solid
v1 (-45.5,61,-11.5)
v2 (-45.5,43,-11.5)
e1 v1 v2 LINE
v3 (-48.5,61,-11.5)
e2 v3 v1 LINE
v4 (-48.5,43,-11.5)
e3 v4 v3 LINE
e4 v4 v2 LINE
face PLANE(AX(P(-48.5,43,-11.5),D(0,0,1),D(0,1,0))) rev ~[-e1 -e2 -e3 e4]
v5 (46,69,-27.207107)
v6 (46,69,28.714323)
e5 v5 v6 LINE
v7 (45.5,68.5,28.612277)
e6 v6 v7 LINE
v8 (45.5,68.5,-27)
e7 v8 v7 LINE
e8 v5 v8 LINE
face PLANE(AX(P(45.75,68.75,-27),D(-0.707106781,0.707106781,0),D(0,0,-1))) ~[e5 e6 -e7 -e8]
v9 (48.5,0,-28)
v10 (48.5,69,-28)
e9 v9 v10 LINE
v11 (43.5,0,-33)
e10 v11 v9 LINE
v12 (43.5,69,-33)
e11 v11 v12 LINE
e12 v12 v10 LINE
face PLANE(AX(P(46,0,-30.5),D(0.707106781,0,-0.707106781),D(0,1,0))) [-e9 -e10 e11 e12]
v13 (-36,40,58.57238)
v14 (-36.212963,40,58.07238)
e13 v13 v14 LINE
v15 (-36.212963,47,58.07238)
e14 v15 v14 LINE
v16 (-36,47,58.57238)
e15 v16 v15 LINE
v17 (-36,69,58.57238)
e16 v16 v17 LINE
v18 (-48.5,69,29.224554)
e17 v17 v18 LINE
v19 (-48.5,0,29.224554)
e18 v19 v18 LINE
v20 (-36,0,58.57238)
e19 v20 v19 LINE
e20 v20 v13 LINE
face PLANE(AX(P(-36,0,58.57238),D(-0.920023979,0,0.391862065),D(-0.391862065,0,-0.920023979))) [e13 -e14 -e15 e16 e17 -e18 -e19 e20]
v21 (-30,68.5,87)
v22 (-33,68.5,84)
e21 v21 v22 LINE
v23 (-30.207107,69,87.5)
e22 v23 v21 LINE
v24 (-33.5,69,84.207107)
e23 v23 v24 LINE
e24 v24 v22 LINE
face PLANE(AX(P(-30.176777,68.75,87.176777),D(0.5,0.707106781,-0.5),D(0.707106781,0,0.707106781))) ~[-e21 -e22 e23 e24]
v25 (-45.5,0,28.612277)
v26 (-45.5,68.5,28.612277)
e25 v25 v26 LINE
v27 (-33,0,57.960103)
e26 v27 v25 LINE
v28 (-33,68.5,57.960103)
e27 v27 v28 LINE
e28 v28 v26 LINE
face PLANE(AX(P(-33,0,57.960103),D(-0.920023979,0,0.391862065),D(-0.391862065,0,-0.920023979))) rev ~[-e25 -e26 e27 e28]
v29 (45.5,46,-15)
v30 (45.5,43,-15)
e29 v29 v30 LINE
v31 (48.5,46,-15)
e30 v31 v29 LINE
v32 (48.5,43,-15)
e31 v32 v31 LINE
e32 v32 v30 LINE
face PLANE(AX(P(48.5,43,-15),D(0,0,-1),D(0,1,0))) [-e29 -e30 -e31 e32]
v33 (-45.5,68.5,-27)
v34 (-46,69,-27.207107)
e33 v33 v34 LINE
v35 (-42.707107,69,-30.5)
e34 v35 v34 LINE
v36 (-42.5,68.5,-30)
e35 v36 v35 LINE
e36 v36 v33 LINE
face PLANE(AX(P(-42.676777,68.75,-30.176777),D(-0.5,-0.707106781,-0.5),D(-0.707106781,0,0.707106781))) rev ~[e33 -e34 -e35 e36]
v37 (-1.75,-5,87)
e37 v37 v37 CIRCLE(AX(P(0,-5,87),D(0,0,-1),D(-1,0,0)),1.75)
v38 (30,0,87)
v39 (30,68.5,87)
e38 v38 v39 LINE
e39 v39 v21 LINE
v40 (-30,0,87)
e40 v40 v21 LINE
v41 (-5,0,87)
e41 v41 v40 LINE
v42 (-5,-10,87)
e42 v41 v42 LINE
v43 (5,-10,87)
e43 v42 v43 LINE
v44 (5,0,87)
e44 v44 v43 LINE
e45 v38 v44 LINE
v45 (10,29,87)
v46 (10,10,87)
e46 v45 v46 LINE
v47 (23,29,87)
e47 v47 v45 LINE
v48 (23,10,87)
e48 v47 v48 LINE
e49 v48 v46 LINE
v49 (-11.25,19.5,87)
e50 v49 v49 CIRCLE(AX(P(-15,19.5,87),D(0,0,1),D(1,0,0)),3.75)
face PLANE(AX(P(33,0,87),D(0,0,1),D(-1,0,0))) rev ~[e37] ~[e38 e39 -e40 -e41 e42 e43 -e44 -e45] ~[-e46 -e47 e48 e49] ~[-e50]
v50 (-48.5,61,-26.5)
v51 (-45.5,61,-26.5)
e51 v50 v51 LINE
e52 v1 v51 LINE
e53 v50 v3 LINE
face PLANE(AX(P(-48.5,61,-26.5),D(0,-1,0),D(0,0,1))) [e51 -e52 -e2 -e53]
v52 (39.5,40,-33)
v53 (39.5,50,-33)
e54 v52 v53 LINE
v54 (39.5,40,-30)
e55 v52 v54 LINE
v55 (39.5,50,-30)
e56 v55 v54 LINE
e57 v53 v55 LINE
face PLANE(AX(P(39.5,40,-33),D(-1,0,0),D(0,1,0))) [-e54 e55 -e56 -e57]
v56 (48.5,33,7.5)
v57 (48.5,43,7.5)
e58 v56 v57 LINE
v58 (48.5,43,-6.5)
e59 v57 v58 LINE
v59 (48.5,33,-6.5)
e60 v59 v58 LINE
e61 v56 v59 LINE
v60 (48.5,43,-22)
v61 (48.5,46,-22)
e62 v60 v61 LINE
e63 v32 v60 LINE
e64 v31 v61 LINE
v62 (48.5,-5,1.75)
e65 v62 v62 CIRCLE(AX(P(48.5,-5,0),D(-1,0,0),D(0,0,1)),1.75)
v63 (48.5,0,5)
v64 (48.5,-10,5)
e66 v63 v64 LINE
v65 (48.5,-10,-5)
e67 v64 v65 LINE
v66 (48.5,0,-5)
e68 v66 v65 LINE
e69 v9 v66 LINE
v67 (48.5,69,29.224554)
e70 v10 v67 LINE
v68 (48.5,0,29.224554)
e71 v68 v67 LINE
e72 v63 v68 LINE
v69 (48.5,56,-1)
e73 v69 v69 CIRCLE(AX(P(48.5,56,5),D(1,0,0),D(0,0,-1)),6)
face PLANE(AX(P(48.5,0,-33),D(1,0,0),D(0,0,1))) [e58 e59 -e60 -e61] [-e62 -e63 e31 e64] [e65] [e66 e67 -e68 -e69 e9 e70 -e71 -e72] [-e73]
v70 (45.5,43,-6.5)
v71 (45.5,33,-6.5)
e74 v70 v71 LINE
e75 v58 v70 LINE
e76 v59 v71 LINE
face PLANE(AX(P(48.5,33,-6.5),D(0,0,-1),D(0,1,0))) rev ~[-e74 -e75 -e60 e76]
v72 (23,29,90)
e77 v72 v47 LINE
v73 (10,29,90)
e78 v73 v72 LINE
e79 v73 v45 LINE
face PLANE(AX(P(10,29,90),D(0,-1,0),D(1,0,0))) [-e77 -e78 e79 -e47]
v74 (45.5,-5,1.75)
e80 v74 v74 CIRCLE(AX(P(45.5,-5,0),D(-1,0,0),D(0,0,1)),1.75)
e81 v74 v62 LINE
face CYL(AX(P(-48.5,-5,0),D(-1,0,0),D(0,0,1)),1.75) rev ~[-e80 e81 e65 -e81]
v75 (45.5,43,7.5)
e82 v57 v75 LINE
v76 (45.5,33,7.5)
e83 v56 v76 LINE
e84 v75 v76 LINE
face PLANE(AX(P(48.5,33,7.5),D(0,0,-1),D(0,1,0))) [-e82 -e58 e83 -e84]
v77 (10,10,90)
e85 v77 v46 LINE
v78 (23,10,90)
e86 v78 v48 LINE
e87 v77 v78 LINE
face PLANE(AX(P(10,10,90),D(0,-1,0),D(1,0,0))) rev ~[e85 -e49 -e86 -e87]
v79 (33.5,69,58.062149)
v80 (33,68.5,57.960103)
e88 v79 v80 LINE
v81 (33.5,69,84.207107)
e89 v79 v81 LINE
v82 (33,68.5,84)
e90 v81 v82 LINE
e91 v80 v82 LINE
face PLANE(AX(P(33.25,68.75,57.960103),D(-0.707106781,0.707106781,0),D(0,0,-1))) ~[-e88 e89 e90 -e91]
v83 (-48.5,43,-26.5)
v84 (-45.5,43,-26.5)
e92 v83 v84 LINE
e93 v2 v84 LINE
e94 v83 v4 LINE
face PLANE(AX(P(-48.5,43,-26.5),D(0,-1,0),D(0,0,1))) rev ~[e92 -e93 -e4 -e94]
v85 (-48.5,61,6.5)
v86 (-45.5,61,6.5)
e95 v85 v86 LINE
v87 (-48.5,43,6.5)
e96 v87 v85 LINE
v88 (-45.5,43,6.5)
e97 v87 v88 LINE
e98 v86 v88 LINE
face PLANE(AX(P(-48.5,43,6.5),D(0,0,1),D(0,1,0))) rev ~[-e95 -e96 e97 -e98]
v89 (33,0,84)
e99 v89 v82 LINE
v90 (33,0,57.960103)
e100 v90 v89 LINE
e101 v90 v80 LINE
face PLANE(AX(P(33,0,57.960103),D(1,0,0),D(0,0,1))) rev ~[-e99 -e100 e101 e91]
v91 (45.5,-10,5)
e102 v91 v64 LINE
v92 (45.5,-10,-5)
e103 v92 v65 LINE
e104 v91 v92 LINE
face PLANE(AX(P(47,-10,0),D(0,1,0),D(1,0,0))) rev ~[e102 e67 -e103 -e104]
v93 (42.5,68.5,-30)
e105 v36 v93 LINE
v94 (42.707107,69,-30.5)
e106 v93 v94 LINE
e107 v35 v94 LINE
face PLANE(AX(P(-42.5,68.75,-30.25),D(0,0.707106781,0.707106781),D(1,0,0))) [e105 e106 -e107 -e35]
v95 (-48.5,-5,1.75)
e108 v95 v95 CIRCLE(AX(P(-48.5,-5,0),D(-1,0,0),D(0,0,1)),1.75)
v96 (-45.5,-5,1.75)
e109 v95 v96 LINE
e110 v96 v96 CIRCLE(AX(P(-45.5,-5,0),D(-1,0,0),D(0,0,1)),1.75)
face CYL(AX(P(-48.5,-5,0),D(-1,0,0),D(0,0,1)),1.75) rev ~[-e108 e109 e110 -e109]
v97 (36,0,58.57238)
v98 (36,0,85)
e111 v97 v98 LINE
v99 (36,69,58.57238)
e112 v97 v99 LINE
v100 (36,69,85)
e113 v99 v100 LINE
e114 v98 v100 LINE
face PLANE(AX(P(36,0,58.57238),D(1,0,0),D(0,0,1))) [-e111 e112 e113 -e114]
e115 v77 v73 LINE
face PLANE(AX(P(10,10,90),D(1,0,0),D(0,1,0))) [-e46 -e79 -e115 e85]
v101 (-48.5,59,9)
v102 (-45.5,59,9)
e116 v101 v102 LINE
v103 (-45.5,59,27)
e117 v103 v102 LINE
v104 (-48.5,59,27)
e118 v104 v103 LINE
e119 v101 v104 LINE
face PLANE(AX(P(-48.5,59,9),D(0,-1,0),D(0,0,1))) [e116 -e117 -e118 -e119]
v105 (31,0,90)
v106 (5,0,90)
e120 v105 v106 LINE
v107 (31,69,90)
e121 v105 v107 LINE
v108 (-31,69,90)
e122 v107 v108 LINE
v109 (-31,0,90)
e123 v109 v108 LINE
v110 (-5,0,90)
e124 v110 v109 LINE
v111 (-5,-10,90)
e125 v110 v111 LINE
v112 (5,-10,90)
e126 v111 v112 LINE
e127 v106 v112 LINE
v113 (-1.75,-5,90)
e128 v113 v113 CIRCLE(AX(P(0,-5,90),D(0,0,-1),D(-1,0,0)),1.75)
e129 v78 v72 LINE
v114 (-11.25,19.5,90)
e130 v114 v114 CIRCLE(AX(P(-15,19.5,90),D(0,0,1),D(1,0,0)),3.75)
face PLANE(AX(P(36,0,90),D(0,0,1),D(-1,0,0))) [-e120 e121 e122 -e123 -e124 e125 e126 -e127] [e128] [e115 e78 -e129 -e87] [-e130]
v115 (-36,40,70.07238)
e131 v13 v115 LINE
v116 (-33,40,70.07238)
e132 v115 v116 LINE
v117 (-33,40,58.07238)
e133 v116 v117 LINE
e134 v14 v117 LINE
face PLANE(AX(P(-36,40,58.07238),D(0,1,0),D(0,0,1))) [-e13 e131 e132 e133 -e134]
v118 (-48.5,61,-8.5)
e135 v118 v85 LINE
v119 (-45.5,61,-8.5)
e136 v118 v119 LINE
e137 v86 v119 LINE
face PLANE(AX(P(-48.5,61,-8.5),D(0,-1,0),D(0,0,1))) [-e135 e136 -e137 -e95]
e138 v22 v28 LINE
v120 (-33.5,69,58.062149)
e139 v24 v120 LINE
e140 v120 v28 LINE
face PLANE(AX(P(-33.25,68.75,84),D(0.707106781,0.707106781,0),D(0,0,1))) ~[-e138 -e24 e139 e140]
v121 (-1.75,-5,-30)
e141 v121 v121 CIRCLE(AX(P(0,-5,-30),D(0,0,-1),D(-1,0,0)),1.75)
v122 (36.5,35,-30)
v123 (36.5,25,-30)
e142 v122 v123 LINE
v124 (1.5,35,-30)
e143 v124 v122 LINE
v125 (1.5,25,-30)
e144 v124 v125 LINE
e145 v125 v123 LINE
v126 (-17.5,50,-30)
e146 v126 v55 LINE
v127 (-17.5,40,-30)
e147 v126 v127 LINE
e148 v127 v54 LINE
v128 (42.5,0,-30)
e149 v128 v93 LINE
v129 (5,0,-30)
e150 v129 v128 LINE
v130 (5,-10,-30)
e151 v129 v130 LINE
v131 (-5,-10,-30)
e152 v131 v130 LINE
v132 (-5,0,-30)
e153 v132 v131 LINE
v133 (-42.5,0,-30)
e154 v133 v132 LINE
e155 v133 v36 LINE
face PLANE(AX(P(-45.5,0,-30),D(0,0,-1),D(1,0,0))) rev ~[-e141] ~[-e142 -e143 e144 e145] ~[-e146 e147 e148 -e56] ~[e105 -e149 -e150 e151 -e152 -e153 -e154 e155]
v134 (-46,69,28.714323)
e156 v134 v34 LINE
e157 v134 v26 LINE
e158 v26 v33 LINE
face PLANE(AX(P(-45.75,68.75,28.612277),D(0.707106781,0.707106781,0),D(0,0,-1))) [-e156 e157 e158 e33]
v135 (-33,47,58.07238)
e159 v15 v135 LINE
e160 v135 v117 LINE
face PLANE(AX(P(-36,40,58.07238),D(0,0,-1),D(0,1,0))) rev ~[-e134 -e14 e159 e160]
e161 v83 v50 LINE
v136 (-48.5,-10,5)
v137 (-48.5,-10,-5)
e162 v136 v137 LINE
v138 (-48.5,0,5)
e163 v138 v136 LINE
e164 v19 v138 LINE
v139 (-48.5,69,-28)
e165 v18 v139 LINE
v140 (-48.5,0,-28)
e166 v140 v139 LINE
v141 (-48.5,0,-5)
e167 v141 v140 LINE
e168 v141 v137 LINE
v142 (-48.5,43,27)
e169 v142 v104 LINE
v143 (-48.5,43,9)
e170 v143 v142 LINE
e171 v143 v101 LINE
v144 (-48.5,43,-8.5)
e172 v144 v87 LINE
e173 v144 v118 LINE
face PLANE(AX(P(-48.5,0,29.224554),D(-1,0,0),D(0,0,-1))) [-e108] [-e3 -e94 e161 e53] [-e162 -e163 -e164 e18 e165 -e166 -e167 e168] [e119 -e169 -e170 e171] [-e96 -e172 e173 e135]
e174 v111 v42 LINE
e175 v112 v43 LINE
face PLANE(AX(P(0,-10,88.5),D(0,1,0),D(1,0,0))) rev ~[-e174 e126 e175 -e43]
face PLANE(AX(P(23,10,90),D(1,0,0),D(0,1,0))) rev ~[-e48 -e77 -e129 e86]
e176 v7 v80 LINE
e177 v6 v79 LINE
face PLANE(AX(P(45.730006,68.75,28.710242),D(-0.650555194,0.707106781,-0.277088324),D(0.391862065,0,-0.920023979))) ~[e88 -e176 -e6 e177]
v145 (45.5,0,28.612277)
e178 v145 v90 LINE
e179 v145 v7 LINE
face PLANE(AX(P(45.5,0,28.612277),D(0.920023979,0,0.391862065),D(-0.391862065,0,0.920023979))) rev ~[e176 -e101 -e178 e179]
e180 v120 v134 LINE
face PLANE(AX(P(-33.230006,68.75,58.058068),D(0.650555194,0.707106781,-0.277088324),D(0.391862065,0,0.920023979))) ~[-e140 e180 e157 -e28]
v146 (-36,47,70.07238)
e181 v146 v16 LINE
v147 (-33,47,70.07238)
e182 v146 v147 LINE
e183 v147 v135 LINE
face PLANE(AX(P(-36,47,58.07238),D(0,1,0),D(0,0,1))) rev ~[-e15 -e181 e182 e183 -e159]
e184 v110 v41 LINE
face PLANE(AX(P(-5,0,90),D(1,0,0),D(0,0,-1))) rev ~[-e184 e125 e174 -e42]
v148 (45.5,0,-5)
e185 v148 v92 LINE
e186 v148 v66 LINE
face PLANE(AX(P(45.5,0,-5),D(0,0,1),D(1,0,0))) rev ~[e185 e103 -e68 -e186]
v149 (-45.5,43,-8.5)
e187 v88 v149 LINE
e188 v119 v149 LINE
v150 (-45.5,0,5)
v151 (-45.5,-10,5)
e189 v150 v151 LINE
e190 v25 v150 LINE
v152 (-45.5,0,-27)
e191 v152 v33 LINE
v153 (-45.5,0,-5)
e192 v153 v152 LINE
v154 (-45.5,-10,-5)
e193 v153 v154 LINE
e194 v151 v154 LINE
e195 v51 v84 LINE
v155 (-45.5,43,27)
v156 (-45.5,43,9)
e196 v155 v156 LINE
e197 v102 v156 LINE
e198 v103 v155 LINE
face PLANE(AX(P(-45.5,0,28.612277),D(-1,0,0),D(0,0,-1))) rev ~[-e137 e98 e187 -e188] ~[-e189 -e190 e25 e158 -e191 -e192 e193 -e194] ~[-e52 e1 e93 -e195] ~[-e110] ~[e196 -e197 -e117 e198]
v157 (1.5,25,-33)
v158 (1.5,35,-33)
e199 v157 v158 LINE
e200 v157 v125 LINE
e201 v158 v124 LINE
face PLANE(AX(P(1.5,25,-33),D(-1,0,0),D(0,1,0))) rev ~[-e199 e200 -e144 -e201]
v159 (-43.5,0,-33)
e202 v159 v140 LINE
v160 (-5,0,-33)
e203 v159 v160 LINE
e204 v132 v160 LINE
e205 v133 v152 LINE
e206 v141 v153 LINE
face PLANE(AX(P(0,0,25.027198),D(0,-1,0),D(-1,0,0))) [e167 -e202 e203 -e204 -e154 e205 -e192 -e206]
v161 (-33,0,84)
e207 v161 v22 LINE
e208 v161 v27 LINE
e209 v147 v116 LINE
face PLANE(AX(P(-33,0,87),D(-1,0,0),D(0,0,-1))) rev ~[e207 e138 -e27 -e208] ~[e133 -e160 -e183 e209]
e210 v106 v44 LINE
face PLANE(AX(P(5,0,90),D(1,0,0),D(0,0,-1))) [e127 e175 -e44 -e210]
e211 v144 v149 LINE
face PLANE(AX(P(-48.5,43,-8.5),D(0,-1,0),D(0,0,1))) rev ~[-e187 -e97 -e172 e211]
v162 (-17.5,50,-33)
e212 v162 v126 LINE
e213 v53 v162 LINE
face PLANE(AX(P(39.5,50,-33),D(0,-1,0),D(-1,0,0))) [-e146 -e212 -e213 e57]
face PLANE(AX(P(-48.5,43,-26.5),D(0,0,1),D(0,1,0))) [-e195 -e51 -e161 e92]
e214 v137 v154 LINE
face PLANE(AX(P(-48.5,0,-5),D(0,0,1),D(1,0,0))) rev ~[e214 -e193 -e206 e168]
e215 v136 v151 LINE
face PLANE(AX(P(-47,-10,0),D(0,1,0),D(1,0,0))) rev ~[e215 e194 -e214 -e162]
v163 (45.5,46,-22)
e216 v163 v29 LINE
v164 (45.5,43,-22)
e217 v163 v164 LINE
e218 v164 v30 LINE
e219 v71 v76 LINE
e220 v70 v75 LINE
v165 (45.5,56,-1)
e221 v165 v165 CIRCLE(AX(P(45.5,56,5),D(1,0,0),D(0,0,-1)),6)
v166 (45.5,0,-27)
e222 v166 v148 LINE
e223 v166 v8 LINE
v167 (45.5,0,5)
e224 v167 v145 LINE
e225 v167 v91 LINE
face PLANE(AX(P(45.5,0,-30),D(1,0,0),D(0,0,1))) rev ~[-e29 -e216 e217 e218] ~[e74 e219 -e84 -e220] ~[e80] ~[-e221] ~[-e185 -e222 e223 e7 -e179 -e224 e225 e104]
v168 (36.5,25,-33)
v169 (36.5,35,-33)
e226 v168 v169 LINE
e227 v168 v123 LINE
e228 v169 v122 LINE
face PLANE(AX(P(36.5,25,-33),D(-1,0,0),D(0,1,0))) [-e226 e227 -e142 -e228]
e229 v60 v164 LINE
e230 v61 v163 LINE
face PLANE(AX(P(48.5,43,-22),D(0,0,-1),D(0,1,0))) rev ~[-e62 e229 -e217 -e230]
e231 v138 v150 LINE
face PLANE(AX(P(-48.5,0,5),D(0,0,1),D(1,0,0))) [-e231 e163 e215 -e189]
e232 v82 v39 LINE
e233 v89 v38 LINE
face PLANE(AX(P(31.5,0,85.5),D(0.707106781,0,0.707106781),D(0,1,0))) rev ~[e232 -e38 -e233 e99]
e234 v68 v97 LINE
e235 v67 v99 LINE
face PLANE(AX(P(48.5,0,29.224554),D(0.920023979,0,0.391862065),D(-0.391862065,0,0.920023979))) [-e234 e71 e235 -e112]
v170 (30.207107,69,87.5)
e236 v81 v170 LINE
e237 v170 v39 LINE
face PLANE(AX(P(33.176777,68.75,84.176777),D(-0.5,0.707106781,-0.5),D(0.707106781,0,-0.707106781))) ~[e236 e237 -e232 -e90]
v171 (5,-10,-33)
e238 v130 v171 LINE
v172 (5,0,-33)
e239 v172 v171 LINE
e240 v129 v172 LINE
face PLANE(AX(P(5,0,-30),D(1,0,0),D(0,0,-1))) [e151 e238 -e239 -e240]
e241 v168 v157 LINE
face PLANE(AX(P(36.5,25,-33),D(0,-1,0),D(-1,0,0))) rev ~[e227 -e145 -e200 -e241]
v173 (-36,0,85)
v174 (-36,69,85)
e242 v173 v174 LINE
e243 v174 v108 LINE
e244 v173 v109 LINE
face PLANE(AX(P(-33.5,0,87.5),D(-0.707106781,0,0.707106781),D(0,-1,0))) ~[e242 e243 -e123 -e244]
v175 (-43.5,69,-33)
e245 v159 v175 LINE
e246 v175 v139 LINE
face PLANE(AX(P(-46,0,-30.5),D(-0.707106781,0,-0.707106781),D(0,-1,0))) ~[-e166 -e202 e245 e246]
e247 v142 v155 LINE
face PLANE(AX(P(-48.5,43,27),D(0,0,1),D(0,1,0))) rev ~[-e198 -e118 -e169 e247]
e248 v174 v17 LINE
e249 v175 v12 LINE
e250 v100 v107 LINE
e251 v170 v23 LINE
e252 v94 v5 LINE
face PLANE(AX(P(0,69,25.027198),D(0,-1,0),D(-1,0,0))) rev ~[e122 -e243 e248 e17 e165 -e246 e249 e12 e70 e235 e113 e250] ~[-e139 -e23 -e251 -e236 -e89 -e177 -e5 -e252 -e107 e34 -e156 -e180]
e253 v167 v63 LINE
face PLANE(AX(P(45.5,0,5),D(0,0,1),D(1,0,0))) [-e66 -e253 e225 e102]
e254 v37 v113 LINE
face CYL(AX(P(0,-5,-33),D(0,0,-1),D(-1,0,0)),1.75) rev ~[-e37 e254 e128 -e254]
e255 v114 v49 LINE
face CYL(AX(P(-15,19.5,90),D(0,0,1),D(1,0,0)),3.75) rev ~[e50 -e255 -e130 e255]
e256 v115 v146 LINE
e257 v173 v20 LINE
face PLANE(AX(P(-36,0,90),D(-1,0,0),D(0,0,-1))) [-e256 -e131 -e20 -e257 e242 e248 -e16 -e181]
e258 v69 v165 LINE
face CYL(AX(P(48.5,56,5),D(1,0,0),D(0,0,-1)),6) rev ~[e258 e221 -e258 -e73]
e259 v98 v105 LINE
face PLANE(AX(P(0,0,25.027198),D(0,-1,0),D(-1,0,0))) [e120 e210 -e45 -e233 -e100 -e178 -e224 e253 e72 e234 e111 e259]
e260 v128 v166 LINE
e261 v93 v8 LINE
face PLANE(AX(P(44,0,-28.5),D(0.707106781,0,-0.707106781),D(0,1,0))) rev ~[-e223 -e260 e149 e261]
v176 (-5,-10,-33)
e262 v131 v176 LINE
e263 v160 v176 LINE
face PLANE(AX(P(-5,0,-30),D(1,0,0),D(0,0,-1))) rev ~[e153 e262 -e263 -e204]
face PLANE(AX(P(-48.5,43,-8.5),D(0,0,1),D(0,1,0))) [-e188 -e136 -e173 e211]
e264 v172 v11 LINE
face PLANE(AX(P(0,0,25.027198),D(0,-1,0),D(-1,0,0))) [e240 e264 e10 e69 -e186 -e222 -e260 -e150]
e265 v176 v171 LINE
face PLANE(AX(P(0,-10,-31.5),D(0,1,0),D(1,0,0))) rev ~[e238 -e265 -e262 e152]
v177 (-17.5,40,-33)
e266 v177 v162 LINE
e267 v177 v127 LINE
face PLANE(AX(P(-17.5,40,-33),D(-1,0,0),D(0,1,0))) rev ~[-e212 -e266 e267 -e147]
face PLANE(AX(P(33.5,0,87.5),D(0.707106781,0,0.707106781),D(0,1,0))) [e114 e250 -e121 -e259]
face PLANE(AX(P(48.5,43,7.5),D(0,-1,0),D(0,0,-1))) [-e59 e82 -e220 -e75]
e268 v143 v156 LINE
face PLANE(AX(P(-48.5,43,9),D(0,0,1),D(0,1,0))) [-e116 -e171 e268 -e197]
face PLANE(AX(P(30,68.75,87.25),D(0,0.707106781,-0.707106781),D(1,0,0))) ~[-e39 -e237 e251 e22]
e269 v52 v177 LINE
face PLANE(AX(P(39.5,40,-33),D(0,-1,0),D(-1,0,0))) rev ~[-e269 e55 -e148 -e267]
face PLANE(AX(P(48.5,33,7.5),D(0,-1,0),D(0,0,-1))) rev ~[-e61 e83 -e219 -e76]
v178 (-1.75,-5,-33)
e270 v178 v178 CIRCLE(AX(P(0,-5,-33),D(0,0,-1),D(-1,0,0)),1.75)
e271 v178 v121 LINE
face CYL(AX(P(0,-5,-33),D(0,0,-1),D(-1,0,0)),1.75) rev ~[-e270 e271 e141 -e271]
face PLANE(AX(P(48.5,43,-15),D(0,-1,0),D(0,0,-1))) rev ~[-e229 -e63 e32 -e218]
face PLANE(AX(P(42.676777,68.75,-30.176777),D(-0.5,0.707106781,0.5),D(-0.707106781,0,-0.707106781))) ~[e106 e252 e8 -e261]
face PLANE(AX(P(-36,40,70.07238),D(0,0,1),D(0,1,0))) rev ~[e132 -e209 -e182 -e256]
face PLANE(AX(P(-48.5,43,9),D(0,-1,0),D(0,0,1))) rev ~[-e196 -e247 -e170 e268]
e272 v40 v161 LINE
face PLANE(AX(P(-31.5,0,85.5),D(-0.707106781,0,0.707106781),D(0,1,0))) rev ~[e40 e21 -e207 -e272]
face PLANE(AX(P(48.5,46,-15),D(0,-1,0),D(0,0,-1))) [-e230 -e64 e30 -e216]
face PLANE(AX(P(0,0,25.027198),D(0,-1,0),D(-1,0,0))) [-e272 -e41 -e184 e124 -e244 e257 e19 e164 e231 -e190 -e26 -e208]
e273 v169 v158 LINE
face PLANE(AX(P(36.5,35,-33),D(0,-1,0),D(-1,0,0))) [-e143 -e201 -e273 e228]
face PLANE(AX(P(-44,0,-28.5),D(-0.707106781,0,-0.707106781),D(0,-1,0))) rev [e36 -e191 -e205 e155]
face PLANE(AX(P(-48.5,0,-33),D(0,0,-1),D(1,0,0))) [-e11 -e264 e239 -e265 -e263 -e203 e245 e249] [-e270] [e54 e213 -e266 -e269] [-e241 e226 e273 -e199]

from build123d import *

# Parameters (mm, degrees)
BOSS_EXTRUDE2_DEPTH            = 69
CHAMFER1_SIZE                  = 3
CHAMFER2_SIZE                  = 5
SKETCH5_W                      = 10
SKETCH5_H                      = 3
SKETCH5_W_2                    = 3
SKETCH5_H_2                    = 10
BOSS_EXTRUDE3_DEPTH            = 10
SKETCH6_R                      = 1.75
CUT_EXTRUDE1_DEPTH             = 150.231363996
SKETCH7_R                      = 1.75
CUT_EXTRUDE2_DEPTH             = 150.13835858
CUT_EXTRUDE3_REACH             = 151.138
SKETCH8_W                      = 57
SKETCH8_H                      = 10
SKETCH8_W_2                    = 35
CUT_EXTRUDE4_REACH             = 151.231
SKETCH10_W                     = 15
SKETCH10_H                     = 18
SKETCH10_W_2                   = 18
SKETCH10_H_2                   = 16
CUT_EXTRUDE5_REACH             = 143.426
SKETCH12_W                     = 12
SKETCH12_H                     = 7
CUT_EXTRUDE5_DIRECTION_2_DEPTH = 142.425775586
CUT_EXTRUDE6_REACH             = 151.231
SKETCH14_R                     = 6
CUT_EXTRUDE7_REACH             = 151.138
SKETCH15_W                     = 13
SKETCH15_H                     = 19
CUT_EXTRUDE8_REACH             = 151.231
SKETCH16_W                     = 14
SKETCH16_H                     = 10
CUT_EXTRUDE9_REACH             = 151.231
SKETCH18_W                     = 7
SKETCH18_H                     = 3
CHAMFER3_SIZE                  = 0.5
CUT_EXTRUDE10_REACH            = 151.138
SKETCH19_R                     = 3.75


with BuildPart() as part:
    # Sketch4 → Boss-Extrude2 (new body)
    with BuildSketch(Plane(origin=(0, 0, 0), x_dir=(1, 0, 0), z_dir=(0, 1, 0))):
        Polygon((-48.5, 33), (48.5, 33), (48.5, -29.22455366), (36, -58.572379747), (36, -90), (-36, -90), (-36, -58.572379747), (-48.5, -29.22455366), align=None)
        Polygon((-45.5, 30), (45.5, 30), (45.5, -28.61227683), (33, -57.960102917), (33, -87), (-33, -87), (-33, -57.960102917), (-45.5, -28.61227683), align=None, mode=Mode.SUBTRACT)
    extrude(amount=BOSS_EXTRUDE2_DEPTH)

    # Chamfer1
    chamfer1_edges = [part.edges().sort_by_distance(p)[0] for p in [
        (-45.5, 34.5, -30),
        (-33, 34.5, 87),
        (33, 34.5, 87),
        (45.5, 34.5, -30),
    ]]
    chamfer(chamfer1_edges, length=CHAMFER1_SIZE)

    # Chamfer2
    chamfer2_edges = [part.edges().sort_by_distance(p)[0] for p in [
        (-48.5, 34.5, -33),
        (48.5, 34.5, -33),
        (36, 34.5, 90),
        (-36, 34.5, 90),
    ]]
    chamfer(chamfer2_edges, length=CHAMFER2_SIZE)

    # Sketch5 → Boss-Extrude3 (add)
    with BuildSketch(Plane(origin=(0, 0, 0), x_dir=(1, 0, 0), z_dir=(0, 1, 0))):
        with Locations((0, 31.5)):
            Rectangle(SKETCH5_W, SKETCH5_H)
        with Locations((-47, 0)):
            Rectangle(SKETCH5_W_2, SKETCH5_H_2)
        with Locations((0, -88.5)):
            Rectangle(SKETCH5_W, SKETCH5_H)
        with Locations((47, 0)):
            Rectangle(SKETCH5_W_2, SKETCH5_H_2)
    extrude(amount=-BOSS_EXTRUDE3_DEPTH)

    # Sketch6 → Cut-Extrude1 (cut, through all)
    with BuildSketch(Plane.ZY.offset(48.5)):
        with Locations((0, -5)):
            Circle(SKETCH6_R)
    extrude(amount=-CUT_EXTRUDE1_DEPTH, mode=Mode.SUBTRACT)

    # Sketch7 → Cut-Extrude2 (cut, through all)
    with BuildSketch(Plane(origin=(0, 0, -33), x_dir=(-1, 0, 0), z_dir=(0, 0, -1))):
        with Locations((0, -5)):
            Circle(SKETCH7_R)
    extrude(amount=-CUT_EXTRUDE2_DEPTH, mode=Mode.SUBTRACT)

    # Sketch8 → Cut-Extrude3 (cut, up to next)
    with BuildSketch(Plane(origin=(0, 0, -33), x_dir=(-1, 0, 0), z_dir=(0, 0, -1)), mode=Mode.PRIVATE) as cut_extrude3_sk1:
        with Locations((-11, 45)):
            Rectangle(SKETCH8_W, SKETCH8_H)
    cut_extrude3_tool1 = extrude(cut_extrude3_sk1.sketch, amount=-CUT_EXTRUDE3_REACH, mode=Mode.PRIVATE) & part.part
    # Sketch8 → Cut-Extrude3 (cut, up to next)
    with BuildSketch(Plane(origin=(0, 0, -33), x_dir=(-1, 0, 0), z_dir=(0, 0, -1)), mode=Mode.PRIVATE) as cut_extrude3_sk2:
        with Locations((-19, 30)):
            Rectangle(SKETCH8_W_2, SKETCH8_H)
    cut_extrude3_tool2 = extrude(cut_extrude3_sk2.sketch, amount=-CUT_EXTRUDE3_REACH, mode=Mode.PRIVATE) & part.part
    add(cut_extrude3_tool1.solids().sort_by_distance((11, 45, -33))[0], mode=Mode.SUBTRACT)
    add(cut_extrude3_tool2.solids().sort_by_distance((19, 30, -33))[0], mode=Mode.SUBTRACT)

    # Sketch10 → Cut-Extrude4 (cut, up to next)
    with BuildSketch(Plane.ZY.offset(48.5), mode=Mode.PRIVATE) as cut_extrude4_sk1:
        with Locations((-19, 52)):
            Rectangle(SKETCH10_W, SKETCH10_H)
    cut_extrude4_tool1 = extrude(cut_extrude4_sk1.sketch, amount=-CUT_EXTRUDE4_REACH, mode=Mode.PRIVATE) & part.part
    # Sketch10 → Cut-Extrude4 (cut, up to next)
    with BuildSketch(Plane.ZY.offset(48.5), mode=Mode.PRIVATE) as cut_extrude4_sk2:
        with Locations((-1, 52)):
            Rectangle(SKETCH10_W, SKETCH10_H)
    cut_extrude4_tool2 = extrude(cut_extrude4_sk2.sketch, amount=-CUT_EXTRUDE4_REACH, mode=Mode.PRIVATE) & part.part
    # Sketch10 → Cut-Extrude4 (cut, up to next)
    with BuildSketch(Plane.ZY.offset(48.5), mode=Mode.PRIVATE) as cut_extrude4_sk3:
        with Locations((18, 51)):
            Rectangle(SKETCH10_W_2, SKETCH10_H_2)
    cut_extrude4_tool3 = extrude(cut_extrude4_sk3.sketch, amount=-CUT_EXTRUDE4_REACH, mode=Mode.PRIVATE) & part.part
    add(cut_extrude4_tool1.solids().sort_by_distance((-48.5, 52, -19))[0], mode=Mode.SUBTRACT)
    add(cut_extrude4_tool2.solids().sort_by_distance((-48.5, 52, -1))[0], mode=Mode.SUBTRACT)
    add(cut_extrude4_tool3.solids().sort_by_distance((-48.5, 51, 18))[0], mode=Mode.SUBTRACT)

    # Sketch12 → Cut-Extrude5 (cut, up to next)
    with BuildSketch(Plane.ZY.offset(36), mode=Mode.PRIVATE) as cut_extrude5_sk1:
        with Locations((64.072379747, 43.5)):
            Rectangle(SKETCH12_W, SKETCH12_H)
    cut_extrude5_tool1 = extrude(cut_extrude5_sk1.sketch, amount=-CUT_EXTRUDE5_REACH, mode=Mode.PRIVATE) & part.part
    add(cut_extrude5_tool1.solids().sort_by_distance((-36, 43.5, 64.07238))[0], mode=Mode.SUBTRACT)

    # Sketch12 → Cut-Extrude5 direction 2 (cut)
    with BuildSketch(Plane.ZY.offset(36)):
        with Locations((64.072379747, 43.5)):
            Rectangle(SKETCH12_W, SKETCH12_H)
    extrude(amount=CUT_EXTRUDE5_DIRECTION_2_DEPTH, mode=Mode.SUBTRACT)

    # Sketch14 → Cut-Extrude6 (cut, up to next)
    with BuildSketch(Plane(origin=(48.5, 0, 0), x_dir=(0, 0, -1), z_dir=(1, 0, 0)), mode=Mode.PRIVATE) as cut_extrude6_sk1:
        with Locations((-5, 56)):
            Circle(SKETCH14_R)
    cut_extrude6_tool1 = extrude(cut_extrude6_sk1.sketch, amount=-CUT_EXTRUDE6_REACH, mode=Mode.PRIVATE) & part.part
    add(cut_extrude6_tool1.solids().sort_by_distance((48.5, 56, 5))[0], mode=Mode.SUBTRACT)

    # Sketch15 → Cut-Extrude7 (cut, up to next)
    with BuildSketch(Plane.XY.offset(90), mode=Mode.PRIVATE) as cut_extrude7_sk1:
        with Locations((16.5, 19.5)):
            Rectangle(SKETCH15_W, SKETCH15_H)
    cut_extrude7_tool1 = extrude(cut_extrude7_sk1.sketch, amount=-CUT_EXTRUDE7_REACH, mode=Mode.PRIVATE) & part.part
    add(cut_extrude7_tool1.solids().sort_by_distance((16.5, 19.5, 90))[0], mode=Mode.SUBTRACT)

    # Sketch16 → Cut-Extrude8 (cut, up to next)
    with BuildSketch(Plane(origin=(48.5, 0, 0), x_dir=(0, 0, -1), z_dir=(1, 0, 0)), mode=Mode.PRIVATE) as cut_extrude8_sk1:
        with Locations((-0.5, 38)):
            Rectangle(SKETCH16_W, SKETCH16_H)
    cut_extrude8_tool1 = extrude(cut_extrude8_sk1.sketch, amount=-CUT_EXTRUDE8_REACH, mode=Mode.PRIVATE) & part.part
    add(cut_extrude8_tool1.solids().sort_by_distance((48.5, 38, 0.5))[0], mode=Mode.SUBTRACT)

    # Sketch18 → Cut-Extrude9 (cut, up to next)
    with BuildSketch(Plane(origin=(48.5, 0, 0), x_dir=(0, 0, -1), z_dir=(1, 0, 0)), mode=Mode.PRIVATE) as cut_extrude9_sk1:
        with Locations((18.5, 44.5)):
            Rectangle(SKETCH18_W, SKETCH18_H)
    cut_extrude9_tool1 = extrude(cut_extrude9_sk1.sketch, amount=-CUT_EXTRUDE9_REACH, mode=Mode.PRIVATE) & part.part
    add(cut_extrude9_tool1.solids().sort_by_distance((48.5, 44.5, -18.5))[0], mode=Mode.SUBTRACT)

    # Chamfer3
    chamfer3_edges = [part.edges().sort_by_distance(p)[0] for p in [
        (-39.25, 69, 43.286189873),
        (-33, 69, 70.980051458),
        (39.25, 69, 43.286189873),
        (45.5, 69, 0.806138415),
        (0, 69, 87),
        (33, 69, 70.980051458),
        (0, 69, -30),
        (-45.5, 69, 0.806138415),
        (-31.5, 69, 85.5),
        (31.5, 69, 85.5),
        (44, 69, -28.5),
        (-44, 69, -28.5),
    ]]
    chamfer(chamfer3_edges, length=CHAMFER3_SIZE)

    # Sketch19 → Cut-Extrude10 (cut, up to next)
    with BuildSketch(Plane.XY.offset(90), mode=Mode.PRIVATE) as cut_extrude10_sk1:
        with Locations((-15, 19.5)):
            Circle(SKETCH19_R)
    cut_extrude10_tool1 = extrude(cut_extrude10_sk1.sketch, amount=-CUT_EXTRUDE10_REACH, mode=Mode.PRIVATE) & part.part
    add(cut_extrude10_tool1.solids().sort_by_distance((-15, 19.5, 90))[0], mode=Mode.SUBTRACT)


solid = part.part
